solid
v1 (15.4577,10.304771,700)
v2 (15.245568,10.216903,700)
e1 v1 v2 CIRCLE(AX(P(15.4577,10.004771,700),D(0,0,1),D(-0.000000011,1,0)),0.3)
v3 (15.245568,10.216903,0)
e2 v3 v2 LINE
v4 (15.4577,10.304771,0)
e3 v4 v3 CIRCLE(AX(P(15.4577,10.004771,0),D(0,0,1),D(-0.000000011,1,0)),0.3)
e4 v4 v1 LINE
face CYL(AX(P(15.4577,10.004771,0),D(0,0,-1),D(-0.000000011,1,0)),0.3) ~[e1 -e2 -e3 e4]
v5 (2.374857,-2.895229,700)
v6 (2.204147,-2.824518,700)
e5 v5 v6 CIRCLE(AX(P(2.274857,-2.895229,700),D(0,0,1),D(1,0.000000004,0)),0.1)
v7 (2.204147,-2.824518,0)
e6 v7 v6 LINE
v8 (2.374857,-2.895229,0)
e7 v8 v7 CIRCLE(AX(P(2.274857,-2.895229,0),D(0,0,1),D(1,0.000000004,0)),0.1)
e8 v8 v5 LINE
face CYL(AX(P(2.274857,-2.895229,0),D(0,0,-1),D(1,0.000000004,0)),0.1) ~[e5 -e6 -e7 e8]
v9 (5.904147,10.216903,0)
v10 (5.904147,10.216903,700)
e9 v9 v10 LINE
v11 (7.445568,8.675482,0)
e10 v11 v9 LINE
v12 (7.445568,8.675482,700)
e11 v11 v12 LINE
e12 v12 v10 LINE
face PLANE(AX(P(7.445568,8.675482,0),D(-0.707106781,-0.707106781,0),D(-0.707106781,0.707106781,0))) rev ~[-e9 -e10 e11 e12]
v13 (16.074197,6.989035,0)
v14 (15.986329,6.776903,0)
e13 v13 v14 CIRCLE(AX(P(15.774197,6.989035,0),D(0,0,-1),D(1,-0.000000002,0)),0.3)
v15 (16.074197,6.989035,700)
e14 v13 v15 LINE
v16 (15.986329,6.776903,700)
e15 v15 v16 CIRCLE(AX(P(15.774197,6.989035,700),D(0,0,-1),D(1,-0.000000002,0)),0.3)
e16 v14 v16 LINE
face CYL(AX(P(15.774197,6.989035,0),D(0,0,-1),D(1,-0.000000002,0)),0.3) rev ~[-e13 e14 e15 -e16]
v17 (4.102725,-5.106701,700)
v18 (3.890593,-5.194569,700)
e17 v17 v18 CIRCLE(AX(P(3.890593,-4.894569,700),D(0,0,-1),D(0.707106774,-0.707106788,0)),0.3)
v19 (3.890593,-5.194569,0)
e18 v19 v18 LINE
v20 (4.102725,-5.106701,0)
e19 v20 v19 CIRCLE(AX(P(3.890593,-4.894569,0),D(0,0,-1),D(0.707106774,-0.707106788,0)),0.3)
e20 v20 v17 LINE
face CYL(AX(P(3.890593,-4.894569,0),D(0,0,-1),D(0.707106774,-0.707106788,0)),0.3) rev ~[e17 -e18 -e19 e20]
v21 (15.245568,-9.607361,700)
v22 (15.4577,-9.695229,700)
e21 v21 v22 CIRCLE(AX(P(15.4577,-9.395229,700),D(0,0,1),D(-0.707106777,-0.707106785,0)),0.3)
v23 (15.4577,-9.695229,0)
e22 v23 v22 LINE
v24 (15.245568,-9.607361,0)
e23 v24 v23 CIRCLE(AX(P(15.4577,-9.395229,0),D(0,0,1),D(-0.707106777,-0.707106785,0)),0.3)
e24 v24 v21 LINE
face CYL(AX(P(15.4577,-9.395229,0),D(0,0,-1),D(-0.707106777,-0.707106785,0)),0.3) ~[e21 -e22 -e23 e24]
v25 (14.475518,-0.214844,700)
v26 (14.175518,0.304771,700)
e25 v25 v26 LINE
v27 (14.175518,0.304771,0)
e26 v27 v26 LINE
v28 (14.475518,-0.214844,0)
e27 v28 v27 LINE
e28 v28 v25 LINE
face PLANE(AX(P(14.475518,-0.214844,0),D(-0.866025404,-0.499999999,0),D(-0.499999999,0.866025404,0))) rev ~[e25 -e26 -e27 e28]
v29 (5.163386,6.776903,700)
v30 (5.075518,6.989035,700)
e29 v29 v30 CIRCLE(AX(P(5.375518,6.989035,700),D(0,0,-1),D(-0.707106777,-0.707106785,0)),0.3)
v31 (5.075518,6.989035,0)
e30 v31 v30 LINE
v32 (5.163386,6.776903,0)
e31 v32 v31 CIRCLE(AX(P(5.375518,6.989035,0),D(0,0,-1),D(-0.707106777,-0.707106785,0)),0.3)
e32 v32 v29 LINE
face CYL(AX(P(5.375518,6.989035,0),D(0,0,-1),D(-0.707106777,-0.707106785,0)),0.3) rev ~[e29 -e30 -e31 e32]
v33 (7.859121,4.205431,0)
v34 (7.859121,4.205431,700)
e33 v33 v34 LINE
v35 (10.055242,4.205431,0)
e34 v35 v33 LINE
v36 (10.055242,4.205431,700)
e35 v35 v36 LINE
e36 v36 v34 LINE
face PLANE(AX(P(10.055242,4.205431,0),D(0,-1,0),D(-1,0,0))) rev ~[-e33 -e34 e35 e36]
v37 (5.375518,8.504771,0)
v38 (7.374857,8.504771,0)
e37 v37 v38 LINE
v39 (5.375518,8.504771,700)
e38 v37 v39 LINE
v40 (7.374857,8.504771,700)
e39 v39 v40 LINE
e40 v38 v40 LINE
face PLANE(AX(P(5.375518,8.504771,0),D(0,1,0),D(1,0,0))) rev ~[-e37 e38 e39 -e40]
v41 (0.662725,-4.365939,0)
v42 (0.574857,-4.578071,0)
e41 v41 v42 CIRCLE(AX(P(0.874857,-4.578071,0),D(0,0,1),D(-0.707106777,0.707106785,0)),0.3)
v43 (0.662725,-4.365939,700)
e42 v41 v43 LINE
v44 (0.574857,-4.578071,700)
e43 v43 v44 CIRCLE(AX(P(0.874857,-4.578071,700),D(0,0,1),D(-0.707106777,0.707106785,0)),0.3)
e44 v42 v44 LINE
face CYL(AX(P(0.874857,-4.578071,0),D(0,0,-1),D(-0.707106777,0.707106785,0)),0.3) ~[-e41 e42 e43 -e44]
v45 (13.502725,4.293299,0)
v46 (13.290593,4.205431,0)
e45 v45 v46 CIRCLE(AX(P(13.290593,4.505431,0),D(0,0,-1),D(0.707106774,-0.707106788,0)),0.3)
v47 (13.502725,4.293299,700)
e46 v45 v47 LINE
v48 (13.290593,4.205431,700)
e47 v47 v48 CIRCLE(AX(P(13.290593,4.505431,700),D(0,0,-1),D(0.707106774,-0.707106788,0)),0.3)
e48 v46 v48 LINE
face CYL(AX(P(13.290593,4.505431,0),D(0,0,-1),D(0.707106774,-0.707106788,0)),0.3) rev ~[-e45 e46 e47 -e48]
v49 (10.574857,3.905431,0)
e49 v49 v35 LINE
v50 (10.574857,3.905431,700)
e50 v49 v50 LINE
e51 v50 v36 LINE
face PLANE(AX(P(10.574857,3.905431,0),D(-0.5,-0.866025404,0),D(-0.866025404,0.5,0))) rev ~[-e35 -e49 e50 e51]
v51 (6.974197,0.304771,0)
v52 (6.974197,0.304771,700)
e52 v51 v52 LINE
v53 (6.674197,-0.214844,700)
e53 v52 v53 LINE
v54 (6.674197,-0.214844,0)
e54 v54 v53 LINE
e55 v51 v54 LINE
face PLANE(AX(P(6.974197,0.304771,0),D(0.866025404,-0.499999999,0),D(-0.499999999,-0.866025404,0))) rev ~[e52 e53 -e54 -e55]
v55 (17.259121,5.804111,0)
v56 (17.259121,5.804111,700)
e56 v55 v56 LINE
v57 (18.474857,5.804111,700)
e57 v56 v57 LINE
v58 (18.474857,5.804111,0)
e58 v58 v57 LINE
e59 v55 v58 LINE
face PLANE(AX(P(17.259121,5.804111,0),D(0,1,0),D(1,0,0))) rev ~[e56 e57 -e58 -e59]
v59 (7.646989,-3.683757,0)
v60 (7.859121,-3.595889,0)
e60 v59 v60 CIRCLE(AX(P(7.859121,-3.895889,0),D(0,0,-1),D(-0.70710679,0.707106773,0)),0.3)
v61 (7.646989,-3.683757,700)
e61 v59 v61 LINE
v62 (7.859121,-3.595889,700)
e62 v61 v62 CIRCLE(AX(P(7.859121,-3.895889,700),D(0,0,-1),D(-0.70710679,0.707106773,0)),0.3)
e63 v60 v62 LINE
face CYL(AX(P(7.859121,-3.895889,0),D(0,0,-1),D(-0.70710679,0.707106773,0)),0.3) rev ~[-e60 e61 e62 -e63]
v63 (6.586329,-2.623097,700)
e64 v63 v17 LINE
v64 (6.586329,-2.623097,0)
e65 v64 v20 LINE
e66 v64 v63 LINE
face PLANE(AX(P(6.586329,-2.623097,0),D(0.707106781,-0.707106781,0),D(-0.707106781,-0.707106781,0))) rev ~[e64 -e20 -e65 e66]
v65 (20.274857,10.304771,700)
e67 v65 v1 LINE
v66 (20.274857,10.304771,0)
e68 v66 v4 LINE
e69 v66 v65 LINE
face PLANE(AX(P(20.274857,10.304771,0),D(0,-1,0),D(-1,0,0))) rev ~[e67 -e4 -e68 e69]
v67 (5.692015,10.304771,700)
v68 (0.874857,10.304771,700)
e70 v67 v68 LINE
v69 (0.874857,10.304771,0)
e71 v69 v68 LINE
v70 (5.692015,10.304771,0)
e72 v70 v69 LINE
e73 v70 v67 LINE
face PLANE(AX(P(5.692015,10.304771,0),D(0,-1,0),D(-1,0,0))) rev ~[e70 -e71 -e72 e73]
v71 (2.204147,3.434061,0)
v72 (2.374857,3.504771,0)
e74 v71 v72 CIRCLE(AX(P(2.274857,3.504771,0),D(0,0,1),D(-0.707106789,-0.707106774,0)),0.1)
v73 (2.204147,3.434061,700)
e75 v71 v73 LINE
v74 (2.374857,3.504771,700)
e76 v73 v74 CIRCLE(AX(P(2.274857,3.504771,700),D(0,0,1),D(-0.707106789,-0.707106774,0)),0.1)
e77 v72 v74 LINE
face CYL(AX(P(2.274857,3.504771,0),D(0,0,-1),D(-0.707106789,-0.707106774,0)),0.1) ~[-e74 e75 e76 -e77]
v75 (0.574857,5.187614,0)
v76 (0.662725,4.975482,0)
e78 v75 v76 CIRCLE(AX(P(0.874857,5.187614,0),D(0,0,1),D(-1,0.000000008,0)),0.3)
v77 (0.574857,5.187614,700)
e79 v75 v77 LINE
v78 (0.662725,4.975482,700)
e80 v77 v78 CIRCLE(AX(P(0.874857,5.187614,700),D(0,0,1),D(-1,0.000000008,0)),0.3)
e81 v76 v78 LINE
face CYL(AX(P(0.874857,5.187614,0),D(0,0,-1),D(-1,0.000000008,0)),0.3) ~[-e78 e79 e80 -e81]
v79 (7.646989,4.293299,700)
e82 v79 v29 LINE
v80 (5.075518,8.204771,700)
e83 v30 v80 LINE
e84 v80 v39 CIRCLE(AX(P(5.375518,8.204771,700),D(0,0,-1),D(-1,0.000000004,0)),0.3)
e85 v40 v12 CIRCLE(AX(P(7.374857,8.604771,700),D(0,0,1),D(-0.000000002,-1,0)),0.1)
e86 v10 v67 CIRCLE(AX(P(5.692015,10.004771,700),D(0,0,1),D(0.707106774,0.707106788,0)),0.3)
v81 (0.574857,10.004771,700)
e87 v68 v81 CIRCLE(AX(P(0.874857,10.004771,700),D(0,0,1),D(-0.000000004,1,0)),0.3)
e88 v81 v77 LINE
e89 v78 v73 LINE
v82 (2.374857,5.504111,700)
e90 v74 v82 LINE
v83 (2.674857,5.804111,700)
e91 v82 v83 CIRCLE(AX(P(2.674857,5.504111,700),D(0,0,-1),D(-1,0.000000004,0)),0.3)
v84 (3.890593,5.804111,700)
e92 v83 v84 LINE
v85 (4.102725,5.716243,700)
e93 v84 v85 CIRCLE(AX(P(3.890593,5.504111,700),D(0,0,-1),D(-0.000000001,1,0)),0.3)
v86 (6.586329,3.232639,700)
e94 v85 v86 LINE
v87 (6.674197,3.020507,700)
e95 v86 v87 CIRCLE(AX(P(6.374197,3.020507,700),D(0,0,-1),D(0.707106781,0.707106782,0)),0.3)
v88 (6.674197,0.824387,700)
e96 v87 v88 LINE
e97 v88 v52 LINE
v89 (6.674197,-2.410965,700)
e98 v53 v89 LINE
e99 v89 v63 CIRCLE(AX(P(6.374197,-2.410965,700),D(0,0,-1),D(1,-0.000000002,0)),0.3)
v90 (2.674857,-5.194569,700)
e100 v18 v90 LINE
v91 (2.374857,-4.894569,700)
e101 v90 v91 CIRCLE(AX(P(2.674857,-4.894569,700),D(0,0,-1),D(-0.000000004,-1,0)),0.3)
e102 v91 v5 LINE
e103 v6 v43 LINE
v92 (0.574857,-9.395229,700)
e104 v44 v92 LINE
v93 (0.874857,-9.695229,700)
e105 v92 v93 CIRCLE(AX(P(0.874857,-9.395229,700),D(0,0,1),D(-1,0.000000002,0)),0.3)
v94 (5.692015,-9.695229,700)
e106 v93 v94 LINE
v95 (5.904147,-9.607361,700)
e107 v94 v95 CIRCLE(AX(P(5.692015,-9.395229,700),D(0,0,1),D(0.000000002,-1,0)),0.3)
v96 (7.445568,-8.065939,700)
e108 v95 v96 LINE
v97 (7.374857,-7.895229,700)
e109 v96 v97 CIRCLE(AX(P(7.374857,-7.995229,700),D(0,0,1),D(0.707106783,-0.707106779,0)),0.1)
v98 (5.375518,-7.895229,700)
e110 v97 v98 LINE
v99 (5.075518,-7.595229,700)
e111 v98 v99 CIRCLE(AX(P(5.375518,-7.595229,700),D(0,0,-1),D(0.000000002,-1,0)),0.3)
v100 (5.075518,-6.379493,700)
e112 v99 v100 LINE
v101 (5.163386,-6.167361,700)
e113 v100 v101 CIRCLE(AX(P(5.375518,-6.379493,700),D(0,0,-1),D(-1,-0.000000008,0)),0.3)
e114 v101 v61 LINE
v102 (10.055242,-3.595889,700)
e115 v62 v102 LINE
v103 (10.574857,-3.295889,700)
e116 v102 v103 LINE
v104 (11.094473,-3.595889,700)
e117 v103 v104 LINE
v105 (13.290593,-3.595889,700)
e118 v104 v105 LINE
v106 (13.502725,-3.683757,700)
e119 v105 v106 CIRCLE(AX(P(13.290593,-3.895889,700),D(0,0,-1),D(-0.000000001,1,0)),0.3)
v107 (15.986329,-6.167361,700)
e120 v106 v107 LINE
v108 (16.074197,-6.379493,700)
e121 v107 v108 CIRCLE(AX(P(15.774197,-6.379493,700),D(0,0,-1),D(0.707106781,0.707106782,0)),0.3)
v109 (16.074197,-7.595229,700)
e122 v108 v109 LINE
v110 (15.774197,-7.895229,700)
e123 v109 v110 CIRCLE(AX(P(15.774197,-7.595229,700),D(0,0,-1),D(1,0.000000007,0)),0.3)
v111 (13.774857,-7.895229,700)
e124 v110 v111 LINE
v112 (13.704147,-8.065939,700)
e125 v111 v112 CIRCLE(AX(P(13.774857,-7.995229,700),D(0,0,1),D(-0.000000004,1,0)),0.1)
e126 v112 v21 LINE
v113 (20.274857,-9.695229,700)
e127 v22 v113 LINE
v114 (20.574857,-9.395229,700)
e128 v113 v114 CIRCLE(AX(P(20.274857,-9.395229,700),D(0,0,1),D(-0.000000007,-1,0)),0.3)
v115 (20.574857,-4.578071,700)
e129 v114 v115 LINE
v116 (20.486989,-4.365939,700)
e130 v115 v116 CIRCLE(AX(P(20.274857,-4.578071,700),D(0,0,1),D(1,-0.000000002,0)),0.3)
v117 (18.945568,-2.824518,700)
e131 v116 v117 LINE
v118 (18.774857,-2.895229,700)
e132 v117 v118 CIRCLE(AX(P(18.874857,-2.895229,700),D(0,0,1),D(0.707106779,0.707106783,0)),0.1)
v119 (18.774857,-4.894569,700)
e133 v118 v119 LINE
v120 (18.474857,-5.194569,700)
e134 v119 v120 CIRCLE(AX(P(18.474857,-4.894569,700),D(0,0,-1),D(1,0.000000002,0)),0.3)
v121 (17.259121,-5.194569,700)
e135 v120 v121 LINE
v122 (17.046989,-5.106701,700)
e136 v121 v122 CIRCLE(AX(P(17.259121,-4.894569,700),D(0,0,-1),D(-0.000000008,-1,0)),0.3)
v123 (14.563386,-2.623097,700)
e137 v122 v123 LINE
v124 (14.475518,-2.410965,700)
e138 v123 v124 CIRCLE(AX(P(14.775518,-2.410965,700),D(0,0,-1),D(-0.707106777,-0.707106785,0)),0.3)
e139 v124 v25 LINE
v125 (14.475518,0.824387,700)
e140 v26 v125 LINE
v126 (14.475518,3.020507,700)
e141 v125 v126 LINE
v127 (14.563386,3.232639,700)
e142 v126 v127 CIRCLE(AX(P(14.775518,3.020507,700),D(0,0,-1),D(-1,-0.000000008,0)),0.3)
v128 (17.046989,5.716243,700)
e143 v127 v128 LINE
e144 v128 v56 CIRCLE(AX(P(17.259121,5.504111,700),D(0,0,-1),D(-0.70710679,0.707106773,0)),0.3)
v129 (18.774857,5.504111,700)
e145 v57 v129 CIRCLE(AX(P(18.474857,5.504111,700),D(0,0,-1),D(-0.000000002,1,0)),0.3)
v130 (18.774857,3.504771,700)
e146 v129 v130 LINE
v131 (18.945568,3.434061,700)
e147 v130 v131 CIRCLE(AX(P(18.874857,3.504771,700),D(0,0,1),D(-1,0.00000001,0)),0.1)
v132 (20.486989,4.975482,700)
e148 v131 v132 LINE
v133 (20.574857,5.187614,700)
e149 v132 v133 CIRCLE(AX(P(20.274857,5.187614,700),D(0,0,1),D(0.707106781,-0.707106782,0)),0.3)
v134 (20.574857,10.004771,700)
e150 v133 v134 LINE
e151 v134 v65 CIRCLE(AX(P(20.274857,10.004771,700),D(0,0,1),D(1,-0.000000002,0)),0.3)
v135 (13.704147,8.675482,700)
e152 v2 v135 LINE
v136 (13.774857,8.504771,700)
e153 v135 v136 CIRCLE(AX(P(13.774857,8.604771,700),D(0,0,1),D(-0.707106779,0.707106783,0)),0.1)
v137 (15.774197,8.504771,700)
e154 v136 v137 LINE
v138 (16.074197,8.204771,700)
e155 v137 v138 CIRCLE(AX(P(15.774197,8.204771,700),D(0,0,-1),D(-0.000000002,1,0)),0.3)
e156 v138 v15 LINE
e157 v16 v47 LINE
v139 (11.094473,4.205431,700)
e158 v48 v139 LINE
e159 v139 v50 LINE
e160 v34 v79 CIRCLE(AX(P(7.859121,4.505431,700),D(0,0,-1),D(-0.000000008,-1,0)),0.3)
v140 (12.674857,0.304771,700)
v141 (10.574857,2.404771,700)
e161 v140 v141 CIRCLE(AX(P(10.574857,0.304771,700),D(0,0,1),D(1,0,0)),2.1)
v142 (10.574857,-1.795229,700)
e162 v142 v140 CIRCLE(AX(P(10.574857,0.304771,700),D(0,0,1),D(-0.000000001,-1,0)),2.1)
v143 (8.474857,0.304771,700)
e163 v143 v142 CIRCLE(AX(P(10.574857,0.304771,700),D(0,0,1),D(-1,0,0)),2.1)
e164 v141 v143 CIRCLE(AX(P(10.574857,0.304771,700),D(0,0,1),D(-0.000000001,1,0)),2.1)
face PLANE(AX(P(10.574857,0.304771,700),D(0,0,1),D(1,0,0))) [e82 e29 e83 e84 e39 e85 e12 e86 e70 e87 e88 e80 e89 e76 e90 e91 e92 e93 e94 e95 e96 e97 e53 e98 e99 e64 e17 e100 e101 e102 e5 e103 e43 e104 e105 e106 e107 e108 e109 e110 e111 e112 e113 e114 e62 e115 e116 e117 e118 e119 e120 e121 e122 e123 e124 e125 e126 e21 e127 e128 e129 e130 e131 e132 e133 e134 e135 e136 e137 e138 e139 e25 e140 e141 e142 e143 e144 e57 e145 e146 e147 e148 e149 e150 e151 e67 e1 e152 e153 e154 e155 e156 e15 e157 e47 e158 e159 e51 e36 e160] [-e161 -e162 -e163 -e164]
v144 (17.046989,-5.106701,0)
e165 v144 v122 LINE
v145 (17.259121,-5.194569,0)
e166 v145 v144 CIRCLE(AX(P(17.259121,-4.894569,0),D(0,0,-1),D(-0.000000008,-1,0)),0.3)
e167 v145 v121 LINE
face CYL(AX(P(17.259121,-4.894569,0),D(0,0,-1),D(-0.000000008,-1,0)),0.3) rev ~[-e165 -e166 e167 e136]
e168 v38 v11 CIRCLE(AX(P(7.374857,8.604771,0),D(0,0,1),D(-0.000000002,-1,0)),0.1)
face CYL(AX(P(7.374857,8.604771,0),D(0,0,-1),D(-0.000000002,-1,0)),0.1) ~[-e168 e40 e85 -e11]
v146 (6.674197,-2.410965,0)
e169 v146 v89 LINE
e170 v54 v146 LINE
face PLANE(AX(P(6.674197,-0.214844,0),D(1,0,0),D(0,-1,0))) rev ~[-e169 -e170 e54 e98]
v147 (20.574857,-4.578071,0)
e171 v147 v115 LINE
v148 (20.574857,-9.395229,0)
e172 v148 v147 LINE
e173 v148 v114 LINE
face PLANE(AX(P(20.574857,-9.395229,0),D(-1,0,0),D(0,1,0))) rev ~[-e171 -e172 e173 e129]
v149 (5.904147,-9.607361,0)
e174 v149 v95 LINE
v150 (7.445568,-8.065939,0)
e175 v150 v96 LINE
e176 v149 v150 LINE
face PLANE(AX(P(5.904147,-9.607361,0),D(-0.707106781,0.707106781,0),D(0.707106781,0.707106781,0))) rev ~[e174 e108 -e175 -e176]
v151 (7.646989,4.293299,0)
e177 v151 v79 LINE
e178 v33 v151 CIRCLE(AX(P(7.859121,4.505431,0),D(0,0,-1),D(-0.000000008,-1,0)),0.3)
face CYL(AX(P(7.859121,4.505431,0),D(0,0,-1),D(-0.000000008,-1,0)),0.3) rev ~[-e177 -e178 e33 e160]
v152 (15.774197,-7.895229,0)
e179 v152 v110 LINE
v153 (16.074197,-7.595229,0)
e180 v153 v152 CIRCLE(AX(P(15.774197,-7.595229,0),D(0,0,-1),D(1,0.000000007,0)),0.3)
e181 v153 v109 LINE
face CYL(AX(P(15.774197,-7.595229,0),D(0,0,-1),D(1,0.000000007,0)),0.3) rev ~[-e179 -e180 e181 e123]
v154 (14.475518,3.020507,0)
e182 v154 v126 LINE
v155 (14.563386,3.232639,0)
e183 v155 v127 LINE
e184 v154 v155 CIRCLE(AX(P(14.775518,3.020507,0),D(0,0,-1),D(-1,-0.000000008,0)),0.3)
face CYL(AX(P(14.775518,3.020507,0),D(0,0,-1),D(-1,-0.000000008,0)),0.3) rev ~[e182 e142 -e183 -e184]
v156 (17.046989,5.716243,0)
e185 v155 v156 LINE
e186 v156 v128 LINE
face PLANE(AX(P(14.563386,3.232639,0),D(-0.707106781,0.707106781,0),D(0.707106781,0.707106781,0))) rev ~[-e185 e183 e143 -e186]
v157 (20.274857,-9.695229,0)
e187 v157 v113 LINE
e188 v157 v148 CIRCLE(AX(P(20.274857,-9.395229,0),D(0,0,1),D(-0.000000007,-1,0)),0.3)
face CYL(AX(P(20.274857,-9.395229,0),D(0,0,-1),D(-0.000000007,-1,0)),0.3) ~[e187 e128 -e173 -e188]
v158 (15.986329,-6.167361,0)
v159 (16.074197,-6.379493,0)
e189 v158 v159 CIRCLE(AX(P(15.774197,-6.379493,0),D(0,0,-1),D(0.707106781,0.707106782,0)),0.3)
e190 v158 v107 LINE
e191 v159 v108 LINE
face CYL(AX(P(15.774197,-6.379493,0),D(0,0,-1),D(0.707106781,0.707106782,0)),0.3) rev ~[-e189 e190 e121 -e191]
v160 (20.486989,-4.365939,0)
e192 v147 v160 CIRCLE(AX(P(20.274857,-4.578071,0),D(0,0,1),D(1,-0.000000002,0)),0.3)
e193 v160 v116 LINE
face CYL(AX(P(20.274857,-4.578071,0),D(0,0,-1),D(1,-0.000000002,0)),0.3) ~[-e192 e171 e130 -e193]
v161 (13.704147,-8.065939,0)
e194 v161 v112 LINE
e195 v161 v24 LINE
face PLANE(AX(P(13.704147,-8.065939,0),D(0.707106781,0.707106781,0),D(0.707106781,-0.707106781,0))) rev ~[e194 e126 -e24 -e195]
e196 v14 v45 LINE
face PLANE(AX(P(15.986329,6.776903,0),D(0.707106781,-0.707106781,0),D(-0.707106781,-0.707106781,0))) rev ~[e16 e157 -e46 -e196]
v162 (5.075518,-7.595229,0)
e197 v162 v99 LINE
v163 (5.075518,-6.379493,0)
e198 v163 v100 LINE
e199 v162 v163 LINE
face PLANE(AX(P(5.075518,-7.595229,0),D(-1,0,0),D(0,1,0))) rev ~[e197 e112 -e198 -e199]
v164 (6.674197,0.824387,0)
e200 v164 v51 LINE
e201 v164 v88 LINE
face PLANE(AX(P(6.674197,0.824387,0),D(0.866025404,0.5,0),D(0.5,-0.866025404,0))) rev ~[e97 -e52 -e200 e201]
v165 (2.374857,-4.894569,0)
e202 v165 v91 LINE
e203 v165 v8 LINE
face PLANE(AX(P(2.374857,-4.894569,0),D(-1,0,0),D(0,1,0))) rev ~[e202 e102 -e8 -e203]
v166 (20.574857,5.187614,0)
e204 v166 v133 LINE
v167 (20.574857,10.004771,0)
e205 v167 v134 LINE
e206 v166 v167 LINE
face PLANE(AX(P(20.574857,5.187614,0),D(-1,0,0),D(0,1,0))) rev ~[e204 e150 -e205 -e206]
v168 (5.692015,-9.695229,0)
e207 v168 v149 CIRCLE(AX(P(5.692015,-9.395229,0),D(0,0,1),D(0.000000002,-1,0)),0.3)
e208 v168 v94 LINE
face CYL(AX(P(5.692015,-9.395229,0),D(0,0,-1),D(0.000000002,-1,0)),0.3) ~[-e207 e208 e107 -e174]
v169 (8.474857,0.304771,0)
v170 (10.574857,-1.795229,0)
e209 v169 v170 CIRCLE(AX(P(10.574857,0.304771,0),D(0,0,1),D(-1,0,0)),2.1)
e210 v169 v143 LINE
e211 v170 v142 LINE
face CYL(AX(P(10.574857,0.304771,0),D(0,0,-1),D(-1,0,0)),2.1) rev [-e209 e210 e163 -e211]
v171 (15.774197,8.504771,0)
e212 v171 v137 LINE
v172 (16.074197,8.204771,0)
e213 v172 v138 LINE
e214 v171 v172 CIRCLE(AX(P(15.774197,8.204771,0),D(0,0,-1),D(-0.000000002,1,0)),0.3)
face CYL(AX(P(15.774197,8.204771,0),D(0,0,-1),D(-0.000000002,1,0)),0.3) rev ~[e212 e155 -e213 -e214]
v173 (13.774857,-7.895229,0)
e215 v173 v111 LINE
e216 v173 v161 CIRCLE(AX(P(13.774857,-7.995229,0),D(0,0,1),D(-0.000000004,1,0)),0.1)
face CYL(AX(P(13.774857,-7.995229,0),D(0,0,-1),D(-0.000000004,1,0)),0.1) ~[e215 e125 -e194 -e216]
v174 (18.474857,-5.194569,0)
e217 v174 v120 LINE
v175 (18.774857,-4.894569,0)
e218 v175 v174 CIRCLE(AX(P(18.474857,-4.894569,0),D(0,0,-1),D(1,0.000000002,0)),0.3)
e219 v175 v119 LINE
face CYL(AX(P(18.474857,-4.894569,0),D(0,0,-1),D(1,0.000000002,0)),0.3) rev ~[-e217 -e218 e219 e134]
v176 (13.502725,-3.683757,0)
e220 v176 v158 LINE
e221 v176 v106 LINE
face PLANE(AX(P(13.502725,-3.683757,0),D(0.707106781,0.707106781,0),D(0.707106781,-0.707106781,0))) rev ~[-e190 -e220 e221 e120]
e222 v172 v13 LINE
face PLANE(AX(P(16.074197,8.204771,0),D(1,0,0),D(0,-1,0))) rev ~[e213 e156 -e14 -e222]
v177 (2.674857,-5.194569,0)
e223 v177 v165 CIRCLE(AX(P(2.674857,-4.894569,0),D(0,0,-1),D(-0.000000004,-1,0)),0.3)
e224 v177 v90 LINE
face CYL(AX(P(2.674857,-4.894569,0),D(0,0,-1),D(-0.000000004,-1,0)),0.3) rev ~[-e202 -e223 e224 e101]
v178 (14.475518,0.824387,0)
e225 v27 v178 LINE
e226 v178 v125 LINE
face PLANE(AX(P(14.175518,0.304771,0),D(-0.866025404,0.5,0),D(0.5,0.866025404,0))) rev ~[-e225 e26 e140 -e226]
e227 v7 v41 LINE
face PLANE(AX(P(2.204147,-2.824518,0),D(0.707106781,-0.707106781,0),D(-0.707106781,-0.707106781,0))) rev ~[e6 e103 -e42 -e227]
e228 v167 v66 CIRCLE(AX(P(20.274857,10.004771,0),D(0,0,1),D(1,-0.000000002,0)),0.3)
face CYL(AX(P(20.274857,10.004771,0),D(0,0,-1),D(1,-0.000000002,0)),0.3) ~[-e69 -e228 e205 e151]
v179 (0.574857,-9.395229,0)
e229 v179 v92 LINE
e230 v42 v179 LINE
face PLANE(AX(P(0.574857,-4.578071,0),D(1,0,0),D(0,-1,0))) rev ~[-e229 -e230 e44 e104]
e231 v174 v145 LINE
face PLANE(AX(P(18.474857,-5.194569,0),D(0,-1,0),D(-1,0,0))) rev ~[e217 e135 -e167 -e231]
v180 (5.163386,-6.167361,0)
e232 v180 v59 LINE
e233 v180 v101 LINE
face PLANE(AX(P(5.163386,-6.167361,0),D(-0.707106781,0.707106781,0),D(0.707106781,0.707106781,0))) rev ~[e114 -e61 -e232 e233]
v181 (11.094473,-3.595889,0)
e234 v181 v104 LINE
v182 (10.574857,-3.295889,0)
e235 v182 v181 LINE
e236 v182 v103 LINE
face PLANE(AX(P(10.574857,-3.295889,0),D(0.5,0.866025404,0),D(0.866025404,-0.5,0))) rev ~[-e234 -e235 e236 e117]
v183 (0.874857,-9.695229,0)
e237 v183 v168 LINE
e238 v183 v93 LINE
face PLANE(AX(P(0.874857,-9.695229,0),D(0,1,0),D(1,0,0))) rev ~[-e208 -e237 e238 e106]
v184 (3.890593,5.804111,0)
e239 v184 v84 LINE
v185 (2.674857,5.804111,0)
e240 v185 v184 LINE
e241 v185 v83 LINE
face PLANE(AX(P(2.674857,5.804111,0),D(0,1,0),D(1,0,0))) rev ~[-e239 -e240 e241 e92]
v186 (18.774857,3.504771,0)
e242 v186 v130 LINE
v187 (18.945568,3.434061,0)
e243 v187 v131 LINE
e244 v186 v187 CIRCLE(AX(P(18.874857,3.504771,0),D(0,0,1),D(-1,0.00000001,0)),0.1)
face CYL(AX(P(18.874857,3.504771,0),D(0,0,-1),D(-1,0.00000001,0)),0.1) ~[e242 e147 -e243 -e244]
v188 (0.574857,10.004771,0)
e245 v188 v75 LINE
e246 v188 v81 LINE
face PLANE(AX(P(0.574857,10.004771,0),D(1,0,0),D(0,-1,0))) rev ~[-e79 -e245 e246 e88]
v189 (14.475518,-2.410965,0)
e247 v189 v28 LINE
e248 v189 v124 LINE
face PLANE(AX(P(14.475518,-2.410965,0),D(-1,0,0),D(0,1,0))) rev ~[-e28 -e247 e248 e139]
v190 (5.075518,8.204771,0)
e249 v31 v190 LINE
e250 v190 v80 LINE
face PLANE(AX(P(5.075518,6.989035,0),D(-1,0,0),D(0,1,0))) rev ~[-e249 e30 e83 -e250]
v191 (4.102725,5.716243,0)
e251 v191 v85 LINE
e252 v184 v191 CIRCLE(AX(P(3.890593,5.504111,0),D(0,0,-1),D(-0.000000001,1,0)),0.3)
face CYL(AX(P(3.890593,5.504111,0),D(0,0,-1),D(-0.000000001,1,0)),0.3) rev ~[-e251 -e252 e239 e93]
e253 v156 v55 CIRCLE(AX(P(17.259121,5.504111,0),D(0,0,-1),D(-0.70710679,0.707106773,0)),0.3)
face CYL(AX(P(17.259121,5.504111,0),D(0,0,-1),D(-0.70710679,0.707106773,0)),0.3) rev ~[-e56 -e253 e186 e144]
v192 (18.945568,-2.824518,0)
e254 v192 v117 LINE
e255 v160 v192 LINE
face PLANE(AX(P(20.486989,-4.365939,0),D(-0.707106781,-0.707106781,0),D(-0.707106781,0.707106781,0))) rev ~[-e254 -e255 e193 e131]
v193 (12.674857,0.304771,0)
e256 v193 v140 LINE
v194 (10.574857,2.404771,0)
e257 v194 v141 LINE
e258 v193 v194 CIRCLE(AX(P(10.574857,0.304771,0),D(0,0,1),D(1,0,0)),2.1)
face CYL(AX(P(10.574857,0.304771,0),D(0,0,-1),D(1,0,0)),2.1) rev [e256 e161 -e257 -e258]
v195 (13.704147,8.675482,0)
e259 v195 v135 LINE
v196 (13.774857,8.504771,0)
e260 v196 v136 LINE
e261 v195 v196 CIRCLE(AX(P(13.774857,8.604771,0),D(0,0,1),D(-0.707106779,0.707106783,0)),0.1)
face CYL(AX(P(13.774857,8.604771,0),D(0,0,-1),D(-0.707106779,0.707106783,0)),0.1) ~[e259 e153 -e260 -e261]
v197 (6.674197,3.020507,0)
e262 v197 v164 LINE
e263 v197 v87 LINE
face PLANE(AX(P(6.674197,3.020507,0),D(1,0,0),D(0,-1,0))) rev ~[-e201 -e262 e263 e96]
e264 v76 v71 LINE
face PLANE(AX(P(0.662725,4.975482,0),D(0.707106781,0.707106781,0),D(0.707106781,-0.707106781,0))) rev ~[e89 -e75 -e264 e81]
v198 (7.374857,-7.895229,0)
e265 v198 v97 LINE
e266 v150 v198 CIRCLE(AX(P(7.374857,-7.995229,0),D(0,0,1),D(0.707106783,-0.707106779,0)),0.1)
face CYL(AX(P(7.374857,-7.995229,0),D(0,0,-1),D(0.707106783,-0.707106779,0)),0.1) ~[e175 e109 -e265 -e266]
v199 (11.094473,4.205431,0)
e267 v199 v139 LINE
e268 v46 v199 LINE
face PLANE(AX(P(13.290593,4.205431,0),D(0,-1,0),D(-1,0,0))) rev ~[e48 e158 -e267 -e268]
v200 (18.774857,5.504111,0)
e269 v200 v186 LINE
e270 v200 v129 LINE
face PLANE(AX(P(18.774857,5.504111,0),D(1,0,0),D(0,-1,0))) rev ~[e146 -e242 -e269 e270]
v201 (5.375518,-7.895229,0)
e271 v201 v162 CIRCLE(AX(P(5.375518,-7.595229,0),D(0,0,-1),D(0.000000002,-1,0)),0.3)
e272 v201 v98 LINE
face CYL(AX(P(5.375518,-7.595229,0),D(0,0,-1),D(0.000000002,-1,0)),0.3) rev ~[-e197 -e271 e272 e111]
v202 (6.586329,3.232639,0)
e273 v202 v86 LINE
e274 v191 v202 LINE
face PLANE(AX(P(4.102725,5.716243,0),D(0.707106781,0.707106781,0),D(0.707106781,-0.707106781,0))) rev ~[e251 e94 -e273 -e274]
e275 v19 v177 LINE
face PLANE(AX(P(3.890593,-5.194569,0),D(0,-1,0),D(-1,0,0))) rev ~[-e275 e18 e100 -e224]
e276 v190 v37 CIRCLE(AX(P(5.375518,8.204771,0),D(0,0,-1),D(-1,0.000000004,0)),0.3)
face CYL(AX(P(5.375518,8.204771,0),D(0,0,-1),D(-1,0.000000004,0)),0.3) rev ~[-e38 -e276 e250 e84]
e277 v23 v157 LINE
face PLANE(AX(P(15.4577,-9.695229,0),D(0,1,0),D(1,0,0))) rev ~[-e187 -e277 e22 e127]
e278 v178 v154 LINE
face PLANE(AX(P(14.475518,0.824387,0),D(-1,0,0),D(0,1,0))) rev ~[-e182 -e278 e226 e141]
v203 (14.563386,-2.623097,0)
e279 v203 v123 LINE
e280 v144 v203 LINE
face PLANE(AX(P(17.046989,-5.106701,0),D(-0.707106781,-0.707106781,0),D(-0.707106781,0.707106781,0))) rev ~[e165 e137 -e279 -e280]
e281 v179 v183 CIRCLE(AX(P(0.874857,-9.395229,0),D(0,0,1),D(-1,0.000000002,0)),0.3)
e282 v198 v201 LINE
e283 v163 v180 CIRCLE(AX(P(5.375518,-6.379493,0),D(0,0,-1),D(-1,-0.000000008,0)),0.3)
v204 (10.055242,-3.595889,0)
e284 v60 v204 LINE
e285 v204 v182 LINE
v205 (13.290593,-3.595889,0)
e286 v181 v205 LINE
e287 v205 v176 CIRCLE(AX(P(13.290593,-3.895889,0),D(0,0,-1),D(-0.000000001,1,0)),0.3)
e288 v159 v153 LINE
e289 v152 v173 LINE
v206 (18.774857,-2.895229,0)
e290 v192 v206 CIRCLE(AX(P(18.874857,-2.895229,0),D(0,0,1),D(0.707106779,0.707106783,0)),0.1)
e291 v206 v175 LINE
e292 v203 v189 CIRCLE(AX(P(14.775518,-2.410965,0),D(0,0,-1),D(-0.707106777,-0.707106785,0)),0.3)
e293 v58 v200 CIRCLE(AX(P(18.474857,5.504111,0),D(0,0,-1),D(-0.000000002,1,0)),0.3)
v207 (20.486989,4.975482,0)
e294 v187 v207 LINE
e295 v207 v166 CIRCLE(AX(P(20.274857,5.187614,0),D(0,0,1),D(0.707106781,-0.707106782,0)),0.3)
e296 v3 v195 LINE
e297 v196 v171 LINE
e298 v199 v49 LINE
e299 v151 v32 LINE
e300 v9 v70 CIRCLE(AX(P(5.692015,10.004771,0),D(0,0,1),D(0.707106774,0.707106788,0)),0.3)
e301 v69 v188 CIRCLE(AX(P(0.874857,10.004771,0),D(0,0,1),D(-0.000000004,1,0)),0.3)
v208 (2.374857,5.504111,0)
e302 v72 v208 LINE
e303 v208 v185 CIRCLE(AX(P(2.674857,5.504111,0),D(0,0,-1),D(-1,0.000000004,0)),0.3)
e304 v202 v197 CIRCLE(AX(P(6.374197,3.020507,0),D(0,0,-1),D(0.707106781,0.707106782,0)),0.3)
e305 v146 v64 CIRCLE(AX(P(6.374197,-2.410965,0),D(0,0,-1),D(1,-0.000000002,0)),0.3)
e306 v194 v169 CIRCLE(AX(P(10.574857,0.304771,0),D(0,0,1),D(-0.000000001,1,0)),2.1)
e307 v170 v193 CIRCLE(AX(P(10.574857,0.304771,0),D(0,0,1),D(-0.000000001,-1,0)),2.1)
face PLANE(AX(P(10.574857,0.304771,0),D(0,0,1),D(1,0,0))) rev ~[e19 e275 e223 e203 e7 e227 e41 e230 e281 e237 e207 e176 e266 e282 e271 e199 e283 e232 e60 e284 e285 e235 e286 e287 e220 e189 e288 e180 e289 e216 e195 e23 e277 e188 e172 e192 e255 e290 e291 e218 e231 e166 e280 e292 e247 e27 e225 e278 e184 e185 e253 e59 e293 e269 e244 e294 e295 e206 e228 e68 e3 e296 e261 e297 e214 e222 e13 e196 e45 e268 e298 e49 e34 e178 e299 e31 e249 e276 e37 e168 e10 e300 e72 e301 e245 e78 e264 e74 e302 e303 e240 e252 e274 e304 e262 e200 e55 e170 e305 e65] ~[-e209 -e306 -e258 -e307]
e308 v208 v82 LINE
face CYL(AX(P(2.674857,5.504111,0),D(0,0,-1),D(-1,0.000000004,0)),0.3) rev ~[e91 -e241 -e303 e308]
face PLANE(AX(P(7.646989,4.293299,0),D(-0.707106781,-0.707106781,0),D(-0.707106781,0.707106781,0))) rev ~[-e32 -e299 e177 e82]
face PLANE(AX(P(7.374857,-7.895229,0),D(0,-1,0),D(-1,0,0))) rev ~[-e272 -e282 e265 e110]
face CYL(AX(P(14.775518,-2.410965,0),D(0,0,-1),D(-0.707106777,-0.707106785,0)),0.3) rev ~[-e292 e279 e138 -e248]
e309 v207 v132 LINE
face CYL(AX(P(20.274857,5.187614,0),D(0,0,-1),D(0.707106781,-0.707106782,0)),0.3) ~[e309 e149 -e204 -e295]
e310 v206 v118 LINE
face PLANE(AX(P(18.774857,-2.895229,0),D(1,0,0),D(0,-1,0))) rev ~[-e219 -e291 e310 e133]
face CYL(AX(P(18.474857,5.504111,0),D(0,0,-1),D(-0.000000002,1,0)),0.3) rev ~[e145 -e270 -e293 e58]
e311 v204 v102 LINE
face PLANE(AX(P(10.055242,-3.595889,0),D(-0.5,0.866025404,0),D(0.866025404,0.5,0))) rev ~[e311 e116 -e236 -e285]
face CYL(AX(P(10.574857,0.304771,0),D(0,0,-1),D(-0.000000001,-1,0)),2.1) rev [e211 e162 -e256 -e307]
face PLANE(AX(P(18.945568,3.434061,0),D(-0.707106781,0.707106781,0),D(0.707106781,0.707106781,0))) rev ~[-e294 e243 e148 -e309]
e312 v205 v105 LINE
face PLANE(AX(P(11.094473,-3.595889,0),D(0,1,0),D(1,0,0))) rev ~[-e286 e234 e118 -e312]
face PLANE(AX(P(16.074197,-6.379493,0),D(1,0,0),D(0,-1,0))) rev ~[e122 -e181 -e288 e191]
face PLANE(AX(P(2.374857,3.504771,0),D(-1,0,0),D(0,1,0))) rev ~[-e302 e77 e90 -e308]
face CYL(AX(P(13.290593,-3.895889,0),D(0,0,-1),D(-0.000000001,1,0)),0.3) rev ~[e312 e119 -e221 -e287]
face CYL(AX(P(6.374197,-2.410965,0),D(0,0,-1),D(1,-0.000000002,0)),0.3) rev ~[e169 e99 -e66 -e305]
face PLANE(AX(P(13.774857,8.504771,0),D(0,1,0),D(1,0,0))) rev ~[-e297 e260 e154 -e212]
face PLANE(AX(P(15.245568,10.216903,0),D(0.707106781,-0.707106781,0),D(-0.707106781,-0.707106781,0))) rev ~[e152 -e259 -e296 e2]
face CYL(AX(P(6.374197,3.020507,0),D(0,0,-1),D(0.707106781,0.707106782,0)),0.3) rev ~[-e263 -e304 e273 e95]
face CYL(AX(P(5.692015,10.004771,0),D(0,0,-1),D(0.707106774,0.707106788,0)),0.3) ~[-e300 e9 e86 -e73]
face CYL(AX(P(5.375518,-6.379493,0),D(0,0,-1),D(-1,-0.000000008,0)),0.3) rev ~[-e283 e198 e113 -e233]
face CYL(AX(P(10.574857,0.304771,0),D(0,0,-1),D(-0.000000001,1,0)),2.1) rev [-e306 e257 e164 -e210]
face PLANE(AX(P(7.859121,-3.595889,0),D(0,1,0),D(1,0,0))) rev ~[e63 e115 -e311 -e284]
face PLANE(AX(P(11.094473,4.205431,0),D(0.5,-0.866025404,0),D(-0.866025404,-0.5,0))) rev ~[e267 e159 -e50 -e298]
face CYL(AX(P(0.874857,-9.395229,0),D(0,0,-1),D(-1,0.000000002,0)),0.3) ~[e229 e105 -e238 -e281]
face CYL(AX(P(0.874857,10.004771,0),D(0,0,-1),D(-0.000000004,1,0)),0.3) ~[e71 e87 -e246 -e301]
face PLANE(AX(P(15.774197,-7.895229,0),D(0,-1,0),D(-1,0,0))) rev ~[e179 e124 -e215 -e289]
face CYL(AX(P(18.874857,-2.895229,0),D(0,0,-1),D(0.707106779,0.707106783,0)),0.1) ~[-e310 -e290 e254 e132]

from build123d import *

# Parameters (mm, degrees)
BOSS_EXTRU_1_DEPTH = 700


with BuildPart() as part:
    # Esquisse1 → Boss.-Extru.1 (new body)
    with BuildSketch(Plane.XY):
        with BuildLine():
            Line((18.774857412, -2.895228684), (18.774857412, -4.894568513))
            ThreePointArc((18.774857412, -4.894568513), (18.686989447, -5.106700547), (18.474857412, -5.194568513))
            Line((18.474857412, -5.194568513), (17.259121481, -5.194568513))
            ThreePointArc((17.259121481, -5.194568513), (17.144316451, -5.171732372), (17.046989447, -5.106700547))
            Line((17.046989447, -5.106700547), (14.56338555, -2.62309665))
            ThreePointArc((14.56338555, -2.62309665), (14.498353724, -2.525769645), (14.475517584, -2.410964616))
            Line((14.475517584, -2.410964616), (14.475517584, -0.214843927))
            Line((14.475517584, -0.214843927), (14.175517584, 0.304771316))
            Line((14.175517584, 0.304771316), (14.475517584, 0.824386558))
            Line((14.475517584, 0.824386558), (14.475517584, 3.020507247))
            ThreePointArc((14.475517584, 3.020507247), (14.498353724, 3.135312277), (14.56338555, 3.232639281))
            Line((14.56338555, 3.232639281), (17.046989447, 5.716243178))
            ThreePointArc((17.046989447, 5.716243178), (17.144316451, 5.781275004), (17.259121481, 5.804111144))
            Line((17.259121481, 5.804111144), (18.474857412, 5.804111144))
            ThreePointArc((18.474857412, 5.804111144), (18.686989447, 5.716243178), (18.774857412, 5.504111144))
            Line((18.774857412, 5.504111144), (18.774857412, 3.504771316))
            ThreePointArc((18.774857412, 3.504771316), (18.836589069, 3.412383362), (18.94556809, 3.434060638))
            Line((18.94556809, 3.434060638), (20.486989447, 4.975481994))
            ThreePointArc((20.486989447, 4.975481994), (20.552021272, 5.072808998), (20.574857412, 5.187614028))
            Line((20.574857412, 5.187614028), (20.574857412, 10.004771316))
            ThreePointArc((20.574857412, 10.004771316), (20.486989447, 10.21690335), (20.274857412, 10.304771316))
            Line((20.274857412, 10.304771316), (15.457700125, 10.304771316))
            ThreePointArc((15.457700125, 10.304771316), (15.342895095, 10.281935175), (15.24556809, 10.21690335))
            Line((15.24556809, 10.21690335), (13.704146734, 8.675481994))
            ThreePointArc((13.704146734, 8.675481994), (13.682469459, 8.566502972), (13.774857412, 8.504771316))
            Line((13.774857412, 8.504771316), (15.77419724, 8.504771316))
            ThreePointArc((15.77419724, 8.504771316), (15.986329275, 8.41690335), (16.07419724, 8.204771316))
            Line((16.07419724, 8.204771316), (16.07419724, 6.989035384))
            ThreePointArc((16.07419724, 6.989035384), (16.0513611, 6.874230355), (15.986329275, 6.77690335))
            Line((15.986329275, 6.77690335), (13.502725378, 4.293299453))
            ThreePointArc((13.502725378, 4.293299453), (13.405398373, 4.228267628), (13.290593344, 4.205431487))
            Line((13.290593344, 4.205431487), (11.094472654, 4.205431487))
            Line((11.094472654, 4.205431487), (10.574857412, 3.905431487))
            Line((10.574857412, 3.905431487), (10.05524217, 4.205431487))
            Line((10.05524217, 4.205431487), (7.859121481, 4.205431487))
            ThreePointArc((7.859121481, 4.205431487), (7.744316451, 4.228267628), (7.646989447, 4.293299453))
            Line((7.646989447, 4.293299453), (5.16338555, 6.77690335))
            ThreePointArc((5.16338555, 6.77690335), (5.098353724, 6.874230355), (5.075517584, 6.989035384))
            Line((5.075517584, 6.989035384), (5.075517584, 8.204771316))
            ThreePointArc((5.075517584, 8.204771316), (5.16338555, 8.41690335), (5.375517584, 8.504771316))
            Line((5.375517584, 8.504771316), (7.374857412, 8.504771316))
            ThreePointArc((7.374857412, 8.504771316), (7.467245365, 8.566502972), (7.44556809, 8.675481994))
            Line((7.44556809, 8.675481994), (5.904146734, 10.21690335))
            ThreePointArc((5.904146734, 10.21690335), (5.806819729, 10.281935175), (5.6920147, 10.304771316))
            Line((5.6920147, 10.304771316), (0.874857412, 10.304771316))
            ThreePointArc((0.874857412, 10.304771316), (0.662725378, 10.21690335), (0.574857412, 10.004771316))
            Line((0.574857412, 10.004771316), (0.574857412, 5.187614028))
            ThreePointArc((0.574857412, 5.187614028), (0.597693552, 5.072808998), (0.662725378, 4.975481994))
            Line((0.662725378, 4.975481994), (2.204146734, 3.434060638))
            ThreePointArc((2.204146734, 3.434060638), (2.313125755, 3.412383362), (2.374857412, 3.504771316))
            Line((2.374857412, 3.504771316), (2.374857412, 5.504111144))
            ThreePointArc((2.374857412, 5.504111144), (2.462725378, 5.716243178), (2.674857412, 5.804111144))
            Line((2.674857412, 5.804111144), (3.890593344, 5.804111144))
            ThreePointArc((3.890593344, 5.804111144), (4.005398373, 5.781275004), (4.102725378, 5.716243178))
            Line((4.102725378, 5.716243178), (6.586329275, 3.232639281))
            ThreePointArc((6.586329275, 3.232639281), (6.6513611, 3.135312277), (6.67419724, 3.020507247))
            Line((6.67419724, 3.020507247), (6.67419724, 0.824386558))
            Line((6.67419724, 0.824386558), (6.97419724, 0.304771316))
            Line((6.97419724, 0.304771316), (6.67419724, -0.214843927))
            Line((6.67419724, -0.214843927), (6.67419724, -2.410964616))
            ThreePointArc((6.67419724, -2.410964616), (6.6513611, -2.525769645), (6.586329275, -2.62309665))
            Line((6.586329275, -2.62309665), (4.102725378, -5.106700547))
            ThreePointArc((4.102725378, -5.106700547), (4.005398373, -5.171732372), (3.890593344, -5.194568513))
            Line((3.890593344, -5.194568513), (2.674857412, -5.194568513))
            ThreePointArc((2.674857412, -5.194568513), (2.462725378, -5.106700547), (2.374857412, -4.894568513))
            Line((2.374857412, -4.894568513), (2.374857412, -2.895228684))
            ThreePointArc((2.374857412, -2.895228684), (2.313125755, -2.802840731), (2.204146734, -2.824518006))
            Line((2.204146734, -2.824518006), (0.662725378, -4.365939362))
            ThreePointArc((0.662725378, -4.365939362), (0.597693552, -4.463266367), (0.574857412, -4.578071397))
            Line((0.574857412, -4.578071397), (0.574857412, -9.395228684))
            ThreePointArc((0.574857412, -9.395228684), (0.662725378, -9.607360719), (0.874857412, -9.695228684))
            Line((0.874857412, -9.695228684), (5.6920147, -9.695228684))
            ThreePointArc((5.6920147, -9.695228684), (5.806819729, -9.672392544), (5.904146734, -9.607360719))
            Line((5.904146734, -9.607360719), (7.44556809, -8.065939362))
            ThreePointArc((7.44556809, -8.065939362), (7.467245365, -7.956960341), (7.374857412, -7.895228684))
            Line((7.374857412, -7.895228684), (5.375517584, -7.895228684))
            ThreePointArc((5.375517584, -7.895228684), (5.16338555, -7.807360719), (5.075517584, -7.595228684))
            Line((5.075517584, -7.595228684), (5.075517584, -6.379492753))
            ThreePointArc((5.075517584, -6.379492753), (5.098353724, -6.264687723), (5.16338555, -6.167360719))
            Line((5.16338555, -6.167360719), (7.646989447, -3.683756822))
            ThreePointArc((7.646989447, -3.683756822), (7.744316451, -3.618724996), (7.859121481, -3.595888856))
            Line((7.859121481, -3.595888856), (10.05524217, -3.595888856))
            Line((10.05524217, -3.595888856), (10.574857412, -3.295888856))
            Line((10.574857412, -3.295888856), (11.094472654, -3.595888856))
            Line((11.094472654, -3.595888856), (13.290593344, -3.595888856))
            ThreePointArc((13.290593344, -3.595888856), (13.405398373, -3.618724996), (13.502725378, -3.683756822))
            Line((13.502725378, -3.683756822), (15.986329275, -6.167360719))
            ThreePointArc((15.986329275, -6.167360719), (16.0513611, -6.264687723), (16.07419724, -6.379492753))
            Line((16.07419724, -6.379492753), (16.07419724, -7.595228684))
            ThreePointArc((16.07419724, -7.595228684), (15.986329275, -7.807360719), (15.77419724, -7.895228684))
            Line((15.77419724, -7.895228684), (13.774857412, -7.895228684))
            ThreePointArc((13.774857412, -7.895228684), (13.682469459, -7.956960341), (13.704146734, -8.065939362))
            Line((13.704146734, -8.065939362), (15.24556809, -9.607360719))
            ThreePointArc((15.24556809, -9.607360719), (15.342895095, -9.672392544), (15.457700125, -9.695228684))
            Line((15.457700125, -9.695228684), (20.274857412, -9.695228684))
            ThreePointArc((20.274857412, -9.695228684), (20.486989447, -9.607360719), (20.574857412, -9.395228684))
            Line((20.574857412, -9.395228684), (20.574857412, -4.578071397))
            ThreePointArc((20.574857412, -4.578071397), (20.552021272, -4.463266367), (20.486989447, -4.365939362))
            Line((20.486989447, -4.365939362), (18.94556809, -2.824518006))
            ThreePointArc((18.94556809, -2.824518006), (18.836589069, -2.802840731), (18.774857412, -2.895228684))
        make_face()
        with BuildLine():
            ThreePointArc((10.574857412, -1.795228684), (12.059781653, -1.180152925), (12.674857412, 0.304771316))
            ThreePointArc((12.674857412, 0.304771316), (12.059781653, 1.789695556), (10.574857412, 2.404771316))
            ThreePointArc((10.574857412, 2.404771316), (9.089933172, 1.789695556), (8.474857412, 0.304771316))
            ThreePointArc((8.474857412, 0.304771316), (9.089933172, -1.180152925), (10.574857412, -1.795228684))
        make_face(mode=Mode.SUBTRACT)
    extrude(amount=BOSS_EXTRU_1_DEPTH)


solid = part.part
